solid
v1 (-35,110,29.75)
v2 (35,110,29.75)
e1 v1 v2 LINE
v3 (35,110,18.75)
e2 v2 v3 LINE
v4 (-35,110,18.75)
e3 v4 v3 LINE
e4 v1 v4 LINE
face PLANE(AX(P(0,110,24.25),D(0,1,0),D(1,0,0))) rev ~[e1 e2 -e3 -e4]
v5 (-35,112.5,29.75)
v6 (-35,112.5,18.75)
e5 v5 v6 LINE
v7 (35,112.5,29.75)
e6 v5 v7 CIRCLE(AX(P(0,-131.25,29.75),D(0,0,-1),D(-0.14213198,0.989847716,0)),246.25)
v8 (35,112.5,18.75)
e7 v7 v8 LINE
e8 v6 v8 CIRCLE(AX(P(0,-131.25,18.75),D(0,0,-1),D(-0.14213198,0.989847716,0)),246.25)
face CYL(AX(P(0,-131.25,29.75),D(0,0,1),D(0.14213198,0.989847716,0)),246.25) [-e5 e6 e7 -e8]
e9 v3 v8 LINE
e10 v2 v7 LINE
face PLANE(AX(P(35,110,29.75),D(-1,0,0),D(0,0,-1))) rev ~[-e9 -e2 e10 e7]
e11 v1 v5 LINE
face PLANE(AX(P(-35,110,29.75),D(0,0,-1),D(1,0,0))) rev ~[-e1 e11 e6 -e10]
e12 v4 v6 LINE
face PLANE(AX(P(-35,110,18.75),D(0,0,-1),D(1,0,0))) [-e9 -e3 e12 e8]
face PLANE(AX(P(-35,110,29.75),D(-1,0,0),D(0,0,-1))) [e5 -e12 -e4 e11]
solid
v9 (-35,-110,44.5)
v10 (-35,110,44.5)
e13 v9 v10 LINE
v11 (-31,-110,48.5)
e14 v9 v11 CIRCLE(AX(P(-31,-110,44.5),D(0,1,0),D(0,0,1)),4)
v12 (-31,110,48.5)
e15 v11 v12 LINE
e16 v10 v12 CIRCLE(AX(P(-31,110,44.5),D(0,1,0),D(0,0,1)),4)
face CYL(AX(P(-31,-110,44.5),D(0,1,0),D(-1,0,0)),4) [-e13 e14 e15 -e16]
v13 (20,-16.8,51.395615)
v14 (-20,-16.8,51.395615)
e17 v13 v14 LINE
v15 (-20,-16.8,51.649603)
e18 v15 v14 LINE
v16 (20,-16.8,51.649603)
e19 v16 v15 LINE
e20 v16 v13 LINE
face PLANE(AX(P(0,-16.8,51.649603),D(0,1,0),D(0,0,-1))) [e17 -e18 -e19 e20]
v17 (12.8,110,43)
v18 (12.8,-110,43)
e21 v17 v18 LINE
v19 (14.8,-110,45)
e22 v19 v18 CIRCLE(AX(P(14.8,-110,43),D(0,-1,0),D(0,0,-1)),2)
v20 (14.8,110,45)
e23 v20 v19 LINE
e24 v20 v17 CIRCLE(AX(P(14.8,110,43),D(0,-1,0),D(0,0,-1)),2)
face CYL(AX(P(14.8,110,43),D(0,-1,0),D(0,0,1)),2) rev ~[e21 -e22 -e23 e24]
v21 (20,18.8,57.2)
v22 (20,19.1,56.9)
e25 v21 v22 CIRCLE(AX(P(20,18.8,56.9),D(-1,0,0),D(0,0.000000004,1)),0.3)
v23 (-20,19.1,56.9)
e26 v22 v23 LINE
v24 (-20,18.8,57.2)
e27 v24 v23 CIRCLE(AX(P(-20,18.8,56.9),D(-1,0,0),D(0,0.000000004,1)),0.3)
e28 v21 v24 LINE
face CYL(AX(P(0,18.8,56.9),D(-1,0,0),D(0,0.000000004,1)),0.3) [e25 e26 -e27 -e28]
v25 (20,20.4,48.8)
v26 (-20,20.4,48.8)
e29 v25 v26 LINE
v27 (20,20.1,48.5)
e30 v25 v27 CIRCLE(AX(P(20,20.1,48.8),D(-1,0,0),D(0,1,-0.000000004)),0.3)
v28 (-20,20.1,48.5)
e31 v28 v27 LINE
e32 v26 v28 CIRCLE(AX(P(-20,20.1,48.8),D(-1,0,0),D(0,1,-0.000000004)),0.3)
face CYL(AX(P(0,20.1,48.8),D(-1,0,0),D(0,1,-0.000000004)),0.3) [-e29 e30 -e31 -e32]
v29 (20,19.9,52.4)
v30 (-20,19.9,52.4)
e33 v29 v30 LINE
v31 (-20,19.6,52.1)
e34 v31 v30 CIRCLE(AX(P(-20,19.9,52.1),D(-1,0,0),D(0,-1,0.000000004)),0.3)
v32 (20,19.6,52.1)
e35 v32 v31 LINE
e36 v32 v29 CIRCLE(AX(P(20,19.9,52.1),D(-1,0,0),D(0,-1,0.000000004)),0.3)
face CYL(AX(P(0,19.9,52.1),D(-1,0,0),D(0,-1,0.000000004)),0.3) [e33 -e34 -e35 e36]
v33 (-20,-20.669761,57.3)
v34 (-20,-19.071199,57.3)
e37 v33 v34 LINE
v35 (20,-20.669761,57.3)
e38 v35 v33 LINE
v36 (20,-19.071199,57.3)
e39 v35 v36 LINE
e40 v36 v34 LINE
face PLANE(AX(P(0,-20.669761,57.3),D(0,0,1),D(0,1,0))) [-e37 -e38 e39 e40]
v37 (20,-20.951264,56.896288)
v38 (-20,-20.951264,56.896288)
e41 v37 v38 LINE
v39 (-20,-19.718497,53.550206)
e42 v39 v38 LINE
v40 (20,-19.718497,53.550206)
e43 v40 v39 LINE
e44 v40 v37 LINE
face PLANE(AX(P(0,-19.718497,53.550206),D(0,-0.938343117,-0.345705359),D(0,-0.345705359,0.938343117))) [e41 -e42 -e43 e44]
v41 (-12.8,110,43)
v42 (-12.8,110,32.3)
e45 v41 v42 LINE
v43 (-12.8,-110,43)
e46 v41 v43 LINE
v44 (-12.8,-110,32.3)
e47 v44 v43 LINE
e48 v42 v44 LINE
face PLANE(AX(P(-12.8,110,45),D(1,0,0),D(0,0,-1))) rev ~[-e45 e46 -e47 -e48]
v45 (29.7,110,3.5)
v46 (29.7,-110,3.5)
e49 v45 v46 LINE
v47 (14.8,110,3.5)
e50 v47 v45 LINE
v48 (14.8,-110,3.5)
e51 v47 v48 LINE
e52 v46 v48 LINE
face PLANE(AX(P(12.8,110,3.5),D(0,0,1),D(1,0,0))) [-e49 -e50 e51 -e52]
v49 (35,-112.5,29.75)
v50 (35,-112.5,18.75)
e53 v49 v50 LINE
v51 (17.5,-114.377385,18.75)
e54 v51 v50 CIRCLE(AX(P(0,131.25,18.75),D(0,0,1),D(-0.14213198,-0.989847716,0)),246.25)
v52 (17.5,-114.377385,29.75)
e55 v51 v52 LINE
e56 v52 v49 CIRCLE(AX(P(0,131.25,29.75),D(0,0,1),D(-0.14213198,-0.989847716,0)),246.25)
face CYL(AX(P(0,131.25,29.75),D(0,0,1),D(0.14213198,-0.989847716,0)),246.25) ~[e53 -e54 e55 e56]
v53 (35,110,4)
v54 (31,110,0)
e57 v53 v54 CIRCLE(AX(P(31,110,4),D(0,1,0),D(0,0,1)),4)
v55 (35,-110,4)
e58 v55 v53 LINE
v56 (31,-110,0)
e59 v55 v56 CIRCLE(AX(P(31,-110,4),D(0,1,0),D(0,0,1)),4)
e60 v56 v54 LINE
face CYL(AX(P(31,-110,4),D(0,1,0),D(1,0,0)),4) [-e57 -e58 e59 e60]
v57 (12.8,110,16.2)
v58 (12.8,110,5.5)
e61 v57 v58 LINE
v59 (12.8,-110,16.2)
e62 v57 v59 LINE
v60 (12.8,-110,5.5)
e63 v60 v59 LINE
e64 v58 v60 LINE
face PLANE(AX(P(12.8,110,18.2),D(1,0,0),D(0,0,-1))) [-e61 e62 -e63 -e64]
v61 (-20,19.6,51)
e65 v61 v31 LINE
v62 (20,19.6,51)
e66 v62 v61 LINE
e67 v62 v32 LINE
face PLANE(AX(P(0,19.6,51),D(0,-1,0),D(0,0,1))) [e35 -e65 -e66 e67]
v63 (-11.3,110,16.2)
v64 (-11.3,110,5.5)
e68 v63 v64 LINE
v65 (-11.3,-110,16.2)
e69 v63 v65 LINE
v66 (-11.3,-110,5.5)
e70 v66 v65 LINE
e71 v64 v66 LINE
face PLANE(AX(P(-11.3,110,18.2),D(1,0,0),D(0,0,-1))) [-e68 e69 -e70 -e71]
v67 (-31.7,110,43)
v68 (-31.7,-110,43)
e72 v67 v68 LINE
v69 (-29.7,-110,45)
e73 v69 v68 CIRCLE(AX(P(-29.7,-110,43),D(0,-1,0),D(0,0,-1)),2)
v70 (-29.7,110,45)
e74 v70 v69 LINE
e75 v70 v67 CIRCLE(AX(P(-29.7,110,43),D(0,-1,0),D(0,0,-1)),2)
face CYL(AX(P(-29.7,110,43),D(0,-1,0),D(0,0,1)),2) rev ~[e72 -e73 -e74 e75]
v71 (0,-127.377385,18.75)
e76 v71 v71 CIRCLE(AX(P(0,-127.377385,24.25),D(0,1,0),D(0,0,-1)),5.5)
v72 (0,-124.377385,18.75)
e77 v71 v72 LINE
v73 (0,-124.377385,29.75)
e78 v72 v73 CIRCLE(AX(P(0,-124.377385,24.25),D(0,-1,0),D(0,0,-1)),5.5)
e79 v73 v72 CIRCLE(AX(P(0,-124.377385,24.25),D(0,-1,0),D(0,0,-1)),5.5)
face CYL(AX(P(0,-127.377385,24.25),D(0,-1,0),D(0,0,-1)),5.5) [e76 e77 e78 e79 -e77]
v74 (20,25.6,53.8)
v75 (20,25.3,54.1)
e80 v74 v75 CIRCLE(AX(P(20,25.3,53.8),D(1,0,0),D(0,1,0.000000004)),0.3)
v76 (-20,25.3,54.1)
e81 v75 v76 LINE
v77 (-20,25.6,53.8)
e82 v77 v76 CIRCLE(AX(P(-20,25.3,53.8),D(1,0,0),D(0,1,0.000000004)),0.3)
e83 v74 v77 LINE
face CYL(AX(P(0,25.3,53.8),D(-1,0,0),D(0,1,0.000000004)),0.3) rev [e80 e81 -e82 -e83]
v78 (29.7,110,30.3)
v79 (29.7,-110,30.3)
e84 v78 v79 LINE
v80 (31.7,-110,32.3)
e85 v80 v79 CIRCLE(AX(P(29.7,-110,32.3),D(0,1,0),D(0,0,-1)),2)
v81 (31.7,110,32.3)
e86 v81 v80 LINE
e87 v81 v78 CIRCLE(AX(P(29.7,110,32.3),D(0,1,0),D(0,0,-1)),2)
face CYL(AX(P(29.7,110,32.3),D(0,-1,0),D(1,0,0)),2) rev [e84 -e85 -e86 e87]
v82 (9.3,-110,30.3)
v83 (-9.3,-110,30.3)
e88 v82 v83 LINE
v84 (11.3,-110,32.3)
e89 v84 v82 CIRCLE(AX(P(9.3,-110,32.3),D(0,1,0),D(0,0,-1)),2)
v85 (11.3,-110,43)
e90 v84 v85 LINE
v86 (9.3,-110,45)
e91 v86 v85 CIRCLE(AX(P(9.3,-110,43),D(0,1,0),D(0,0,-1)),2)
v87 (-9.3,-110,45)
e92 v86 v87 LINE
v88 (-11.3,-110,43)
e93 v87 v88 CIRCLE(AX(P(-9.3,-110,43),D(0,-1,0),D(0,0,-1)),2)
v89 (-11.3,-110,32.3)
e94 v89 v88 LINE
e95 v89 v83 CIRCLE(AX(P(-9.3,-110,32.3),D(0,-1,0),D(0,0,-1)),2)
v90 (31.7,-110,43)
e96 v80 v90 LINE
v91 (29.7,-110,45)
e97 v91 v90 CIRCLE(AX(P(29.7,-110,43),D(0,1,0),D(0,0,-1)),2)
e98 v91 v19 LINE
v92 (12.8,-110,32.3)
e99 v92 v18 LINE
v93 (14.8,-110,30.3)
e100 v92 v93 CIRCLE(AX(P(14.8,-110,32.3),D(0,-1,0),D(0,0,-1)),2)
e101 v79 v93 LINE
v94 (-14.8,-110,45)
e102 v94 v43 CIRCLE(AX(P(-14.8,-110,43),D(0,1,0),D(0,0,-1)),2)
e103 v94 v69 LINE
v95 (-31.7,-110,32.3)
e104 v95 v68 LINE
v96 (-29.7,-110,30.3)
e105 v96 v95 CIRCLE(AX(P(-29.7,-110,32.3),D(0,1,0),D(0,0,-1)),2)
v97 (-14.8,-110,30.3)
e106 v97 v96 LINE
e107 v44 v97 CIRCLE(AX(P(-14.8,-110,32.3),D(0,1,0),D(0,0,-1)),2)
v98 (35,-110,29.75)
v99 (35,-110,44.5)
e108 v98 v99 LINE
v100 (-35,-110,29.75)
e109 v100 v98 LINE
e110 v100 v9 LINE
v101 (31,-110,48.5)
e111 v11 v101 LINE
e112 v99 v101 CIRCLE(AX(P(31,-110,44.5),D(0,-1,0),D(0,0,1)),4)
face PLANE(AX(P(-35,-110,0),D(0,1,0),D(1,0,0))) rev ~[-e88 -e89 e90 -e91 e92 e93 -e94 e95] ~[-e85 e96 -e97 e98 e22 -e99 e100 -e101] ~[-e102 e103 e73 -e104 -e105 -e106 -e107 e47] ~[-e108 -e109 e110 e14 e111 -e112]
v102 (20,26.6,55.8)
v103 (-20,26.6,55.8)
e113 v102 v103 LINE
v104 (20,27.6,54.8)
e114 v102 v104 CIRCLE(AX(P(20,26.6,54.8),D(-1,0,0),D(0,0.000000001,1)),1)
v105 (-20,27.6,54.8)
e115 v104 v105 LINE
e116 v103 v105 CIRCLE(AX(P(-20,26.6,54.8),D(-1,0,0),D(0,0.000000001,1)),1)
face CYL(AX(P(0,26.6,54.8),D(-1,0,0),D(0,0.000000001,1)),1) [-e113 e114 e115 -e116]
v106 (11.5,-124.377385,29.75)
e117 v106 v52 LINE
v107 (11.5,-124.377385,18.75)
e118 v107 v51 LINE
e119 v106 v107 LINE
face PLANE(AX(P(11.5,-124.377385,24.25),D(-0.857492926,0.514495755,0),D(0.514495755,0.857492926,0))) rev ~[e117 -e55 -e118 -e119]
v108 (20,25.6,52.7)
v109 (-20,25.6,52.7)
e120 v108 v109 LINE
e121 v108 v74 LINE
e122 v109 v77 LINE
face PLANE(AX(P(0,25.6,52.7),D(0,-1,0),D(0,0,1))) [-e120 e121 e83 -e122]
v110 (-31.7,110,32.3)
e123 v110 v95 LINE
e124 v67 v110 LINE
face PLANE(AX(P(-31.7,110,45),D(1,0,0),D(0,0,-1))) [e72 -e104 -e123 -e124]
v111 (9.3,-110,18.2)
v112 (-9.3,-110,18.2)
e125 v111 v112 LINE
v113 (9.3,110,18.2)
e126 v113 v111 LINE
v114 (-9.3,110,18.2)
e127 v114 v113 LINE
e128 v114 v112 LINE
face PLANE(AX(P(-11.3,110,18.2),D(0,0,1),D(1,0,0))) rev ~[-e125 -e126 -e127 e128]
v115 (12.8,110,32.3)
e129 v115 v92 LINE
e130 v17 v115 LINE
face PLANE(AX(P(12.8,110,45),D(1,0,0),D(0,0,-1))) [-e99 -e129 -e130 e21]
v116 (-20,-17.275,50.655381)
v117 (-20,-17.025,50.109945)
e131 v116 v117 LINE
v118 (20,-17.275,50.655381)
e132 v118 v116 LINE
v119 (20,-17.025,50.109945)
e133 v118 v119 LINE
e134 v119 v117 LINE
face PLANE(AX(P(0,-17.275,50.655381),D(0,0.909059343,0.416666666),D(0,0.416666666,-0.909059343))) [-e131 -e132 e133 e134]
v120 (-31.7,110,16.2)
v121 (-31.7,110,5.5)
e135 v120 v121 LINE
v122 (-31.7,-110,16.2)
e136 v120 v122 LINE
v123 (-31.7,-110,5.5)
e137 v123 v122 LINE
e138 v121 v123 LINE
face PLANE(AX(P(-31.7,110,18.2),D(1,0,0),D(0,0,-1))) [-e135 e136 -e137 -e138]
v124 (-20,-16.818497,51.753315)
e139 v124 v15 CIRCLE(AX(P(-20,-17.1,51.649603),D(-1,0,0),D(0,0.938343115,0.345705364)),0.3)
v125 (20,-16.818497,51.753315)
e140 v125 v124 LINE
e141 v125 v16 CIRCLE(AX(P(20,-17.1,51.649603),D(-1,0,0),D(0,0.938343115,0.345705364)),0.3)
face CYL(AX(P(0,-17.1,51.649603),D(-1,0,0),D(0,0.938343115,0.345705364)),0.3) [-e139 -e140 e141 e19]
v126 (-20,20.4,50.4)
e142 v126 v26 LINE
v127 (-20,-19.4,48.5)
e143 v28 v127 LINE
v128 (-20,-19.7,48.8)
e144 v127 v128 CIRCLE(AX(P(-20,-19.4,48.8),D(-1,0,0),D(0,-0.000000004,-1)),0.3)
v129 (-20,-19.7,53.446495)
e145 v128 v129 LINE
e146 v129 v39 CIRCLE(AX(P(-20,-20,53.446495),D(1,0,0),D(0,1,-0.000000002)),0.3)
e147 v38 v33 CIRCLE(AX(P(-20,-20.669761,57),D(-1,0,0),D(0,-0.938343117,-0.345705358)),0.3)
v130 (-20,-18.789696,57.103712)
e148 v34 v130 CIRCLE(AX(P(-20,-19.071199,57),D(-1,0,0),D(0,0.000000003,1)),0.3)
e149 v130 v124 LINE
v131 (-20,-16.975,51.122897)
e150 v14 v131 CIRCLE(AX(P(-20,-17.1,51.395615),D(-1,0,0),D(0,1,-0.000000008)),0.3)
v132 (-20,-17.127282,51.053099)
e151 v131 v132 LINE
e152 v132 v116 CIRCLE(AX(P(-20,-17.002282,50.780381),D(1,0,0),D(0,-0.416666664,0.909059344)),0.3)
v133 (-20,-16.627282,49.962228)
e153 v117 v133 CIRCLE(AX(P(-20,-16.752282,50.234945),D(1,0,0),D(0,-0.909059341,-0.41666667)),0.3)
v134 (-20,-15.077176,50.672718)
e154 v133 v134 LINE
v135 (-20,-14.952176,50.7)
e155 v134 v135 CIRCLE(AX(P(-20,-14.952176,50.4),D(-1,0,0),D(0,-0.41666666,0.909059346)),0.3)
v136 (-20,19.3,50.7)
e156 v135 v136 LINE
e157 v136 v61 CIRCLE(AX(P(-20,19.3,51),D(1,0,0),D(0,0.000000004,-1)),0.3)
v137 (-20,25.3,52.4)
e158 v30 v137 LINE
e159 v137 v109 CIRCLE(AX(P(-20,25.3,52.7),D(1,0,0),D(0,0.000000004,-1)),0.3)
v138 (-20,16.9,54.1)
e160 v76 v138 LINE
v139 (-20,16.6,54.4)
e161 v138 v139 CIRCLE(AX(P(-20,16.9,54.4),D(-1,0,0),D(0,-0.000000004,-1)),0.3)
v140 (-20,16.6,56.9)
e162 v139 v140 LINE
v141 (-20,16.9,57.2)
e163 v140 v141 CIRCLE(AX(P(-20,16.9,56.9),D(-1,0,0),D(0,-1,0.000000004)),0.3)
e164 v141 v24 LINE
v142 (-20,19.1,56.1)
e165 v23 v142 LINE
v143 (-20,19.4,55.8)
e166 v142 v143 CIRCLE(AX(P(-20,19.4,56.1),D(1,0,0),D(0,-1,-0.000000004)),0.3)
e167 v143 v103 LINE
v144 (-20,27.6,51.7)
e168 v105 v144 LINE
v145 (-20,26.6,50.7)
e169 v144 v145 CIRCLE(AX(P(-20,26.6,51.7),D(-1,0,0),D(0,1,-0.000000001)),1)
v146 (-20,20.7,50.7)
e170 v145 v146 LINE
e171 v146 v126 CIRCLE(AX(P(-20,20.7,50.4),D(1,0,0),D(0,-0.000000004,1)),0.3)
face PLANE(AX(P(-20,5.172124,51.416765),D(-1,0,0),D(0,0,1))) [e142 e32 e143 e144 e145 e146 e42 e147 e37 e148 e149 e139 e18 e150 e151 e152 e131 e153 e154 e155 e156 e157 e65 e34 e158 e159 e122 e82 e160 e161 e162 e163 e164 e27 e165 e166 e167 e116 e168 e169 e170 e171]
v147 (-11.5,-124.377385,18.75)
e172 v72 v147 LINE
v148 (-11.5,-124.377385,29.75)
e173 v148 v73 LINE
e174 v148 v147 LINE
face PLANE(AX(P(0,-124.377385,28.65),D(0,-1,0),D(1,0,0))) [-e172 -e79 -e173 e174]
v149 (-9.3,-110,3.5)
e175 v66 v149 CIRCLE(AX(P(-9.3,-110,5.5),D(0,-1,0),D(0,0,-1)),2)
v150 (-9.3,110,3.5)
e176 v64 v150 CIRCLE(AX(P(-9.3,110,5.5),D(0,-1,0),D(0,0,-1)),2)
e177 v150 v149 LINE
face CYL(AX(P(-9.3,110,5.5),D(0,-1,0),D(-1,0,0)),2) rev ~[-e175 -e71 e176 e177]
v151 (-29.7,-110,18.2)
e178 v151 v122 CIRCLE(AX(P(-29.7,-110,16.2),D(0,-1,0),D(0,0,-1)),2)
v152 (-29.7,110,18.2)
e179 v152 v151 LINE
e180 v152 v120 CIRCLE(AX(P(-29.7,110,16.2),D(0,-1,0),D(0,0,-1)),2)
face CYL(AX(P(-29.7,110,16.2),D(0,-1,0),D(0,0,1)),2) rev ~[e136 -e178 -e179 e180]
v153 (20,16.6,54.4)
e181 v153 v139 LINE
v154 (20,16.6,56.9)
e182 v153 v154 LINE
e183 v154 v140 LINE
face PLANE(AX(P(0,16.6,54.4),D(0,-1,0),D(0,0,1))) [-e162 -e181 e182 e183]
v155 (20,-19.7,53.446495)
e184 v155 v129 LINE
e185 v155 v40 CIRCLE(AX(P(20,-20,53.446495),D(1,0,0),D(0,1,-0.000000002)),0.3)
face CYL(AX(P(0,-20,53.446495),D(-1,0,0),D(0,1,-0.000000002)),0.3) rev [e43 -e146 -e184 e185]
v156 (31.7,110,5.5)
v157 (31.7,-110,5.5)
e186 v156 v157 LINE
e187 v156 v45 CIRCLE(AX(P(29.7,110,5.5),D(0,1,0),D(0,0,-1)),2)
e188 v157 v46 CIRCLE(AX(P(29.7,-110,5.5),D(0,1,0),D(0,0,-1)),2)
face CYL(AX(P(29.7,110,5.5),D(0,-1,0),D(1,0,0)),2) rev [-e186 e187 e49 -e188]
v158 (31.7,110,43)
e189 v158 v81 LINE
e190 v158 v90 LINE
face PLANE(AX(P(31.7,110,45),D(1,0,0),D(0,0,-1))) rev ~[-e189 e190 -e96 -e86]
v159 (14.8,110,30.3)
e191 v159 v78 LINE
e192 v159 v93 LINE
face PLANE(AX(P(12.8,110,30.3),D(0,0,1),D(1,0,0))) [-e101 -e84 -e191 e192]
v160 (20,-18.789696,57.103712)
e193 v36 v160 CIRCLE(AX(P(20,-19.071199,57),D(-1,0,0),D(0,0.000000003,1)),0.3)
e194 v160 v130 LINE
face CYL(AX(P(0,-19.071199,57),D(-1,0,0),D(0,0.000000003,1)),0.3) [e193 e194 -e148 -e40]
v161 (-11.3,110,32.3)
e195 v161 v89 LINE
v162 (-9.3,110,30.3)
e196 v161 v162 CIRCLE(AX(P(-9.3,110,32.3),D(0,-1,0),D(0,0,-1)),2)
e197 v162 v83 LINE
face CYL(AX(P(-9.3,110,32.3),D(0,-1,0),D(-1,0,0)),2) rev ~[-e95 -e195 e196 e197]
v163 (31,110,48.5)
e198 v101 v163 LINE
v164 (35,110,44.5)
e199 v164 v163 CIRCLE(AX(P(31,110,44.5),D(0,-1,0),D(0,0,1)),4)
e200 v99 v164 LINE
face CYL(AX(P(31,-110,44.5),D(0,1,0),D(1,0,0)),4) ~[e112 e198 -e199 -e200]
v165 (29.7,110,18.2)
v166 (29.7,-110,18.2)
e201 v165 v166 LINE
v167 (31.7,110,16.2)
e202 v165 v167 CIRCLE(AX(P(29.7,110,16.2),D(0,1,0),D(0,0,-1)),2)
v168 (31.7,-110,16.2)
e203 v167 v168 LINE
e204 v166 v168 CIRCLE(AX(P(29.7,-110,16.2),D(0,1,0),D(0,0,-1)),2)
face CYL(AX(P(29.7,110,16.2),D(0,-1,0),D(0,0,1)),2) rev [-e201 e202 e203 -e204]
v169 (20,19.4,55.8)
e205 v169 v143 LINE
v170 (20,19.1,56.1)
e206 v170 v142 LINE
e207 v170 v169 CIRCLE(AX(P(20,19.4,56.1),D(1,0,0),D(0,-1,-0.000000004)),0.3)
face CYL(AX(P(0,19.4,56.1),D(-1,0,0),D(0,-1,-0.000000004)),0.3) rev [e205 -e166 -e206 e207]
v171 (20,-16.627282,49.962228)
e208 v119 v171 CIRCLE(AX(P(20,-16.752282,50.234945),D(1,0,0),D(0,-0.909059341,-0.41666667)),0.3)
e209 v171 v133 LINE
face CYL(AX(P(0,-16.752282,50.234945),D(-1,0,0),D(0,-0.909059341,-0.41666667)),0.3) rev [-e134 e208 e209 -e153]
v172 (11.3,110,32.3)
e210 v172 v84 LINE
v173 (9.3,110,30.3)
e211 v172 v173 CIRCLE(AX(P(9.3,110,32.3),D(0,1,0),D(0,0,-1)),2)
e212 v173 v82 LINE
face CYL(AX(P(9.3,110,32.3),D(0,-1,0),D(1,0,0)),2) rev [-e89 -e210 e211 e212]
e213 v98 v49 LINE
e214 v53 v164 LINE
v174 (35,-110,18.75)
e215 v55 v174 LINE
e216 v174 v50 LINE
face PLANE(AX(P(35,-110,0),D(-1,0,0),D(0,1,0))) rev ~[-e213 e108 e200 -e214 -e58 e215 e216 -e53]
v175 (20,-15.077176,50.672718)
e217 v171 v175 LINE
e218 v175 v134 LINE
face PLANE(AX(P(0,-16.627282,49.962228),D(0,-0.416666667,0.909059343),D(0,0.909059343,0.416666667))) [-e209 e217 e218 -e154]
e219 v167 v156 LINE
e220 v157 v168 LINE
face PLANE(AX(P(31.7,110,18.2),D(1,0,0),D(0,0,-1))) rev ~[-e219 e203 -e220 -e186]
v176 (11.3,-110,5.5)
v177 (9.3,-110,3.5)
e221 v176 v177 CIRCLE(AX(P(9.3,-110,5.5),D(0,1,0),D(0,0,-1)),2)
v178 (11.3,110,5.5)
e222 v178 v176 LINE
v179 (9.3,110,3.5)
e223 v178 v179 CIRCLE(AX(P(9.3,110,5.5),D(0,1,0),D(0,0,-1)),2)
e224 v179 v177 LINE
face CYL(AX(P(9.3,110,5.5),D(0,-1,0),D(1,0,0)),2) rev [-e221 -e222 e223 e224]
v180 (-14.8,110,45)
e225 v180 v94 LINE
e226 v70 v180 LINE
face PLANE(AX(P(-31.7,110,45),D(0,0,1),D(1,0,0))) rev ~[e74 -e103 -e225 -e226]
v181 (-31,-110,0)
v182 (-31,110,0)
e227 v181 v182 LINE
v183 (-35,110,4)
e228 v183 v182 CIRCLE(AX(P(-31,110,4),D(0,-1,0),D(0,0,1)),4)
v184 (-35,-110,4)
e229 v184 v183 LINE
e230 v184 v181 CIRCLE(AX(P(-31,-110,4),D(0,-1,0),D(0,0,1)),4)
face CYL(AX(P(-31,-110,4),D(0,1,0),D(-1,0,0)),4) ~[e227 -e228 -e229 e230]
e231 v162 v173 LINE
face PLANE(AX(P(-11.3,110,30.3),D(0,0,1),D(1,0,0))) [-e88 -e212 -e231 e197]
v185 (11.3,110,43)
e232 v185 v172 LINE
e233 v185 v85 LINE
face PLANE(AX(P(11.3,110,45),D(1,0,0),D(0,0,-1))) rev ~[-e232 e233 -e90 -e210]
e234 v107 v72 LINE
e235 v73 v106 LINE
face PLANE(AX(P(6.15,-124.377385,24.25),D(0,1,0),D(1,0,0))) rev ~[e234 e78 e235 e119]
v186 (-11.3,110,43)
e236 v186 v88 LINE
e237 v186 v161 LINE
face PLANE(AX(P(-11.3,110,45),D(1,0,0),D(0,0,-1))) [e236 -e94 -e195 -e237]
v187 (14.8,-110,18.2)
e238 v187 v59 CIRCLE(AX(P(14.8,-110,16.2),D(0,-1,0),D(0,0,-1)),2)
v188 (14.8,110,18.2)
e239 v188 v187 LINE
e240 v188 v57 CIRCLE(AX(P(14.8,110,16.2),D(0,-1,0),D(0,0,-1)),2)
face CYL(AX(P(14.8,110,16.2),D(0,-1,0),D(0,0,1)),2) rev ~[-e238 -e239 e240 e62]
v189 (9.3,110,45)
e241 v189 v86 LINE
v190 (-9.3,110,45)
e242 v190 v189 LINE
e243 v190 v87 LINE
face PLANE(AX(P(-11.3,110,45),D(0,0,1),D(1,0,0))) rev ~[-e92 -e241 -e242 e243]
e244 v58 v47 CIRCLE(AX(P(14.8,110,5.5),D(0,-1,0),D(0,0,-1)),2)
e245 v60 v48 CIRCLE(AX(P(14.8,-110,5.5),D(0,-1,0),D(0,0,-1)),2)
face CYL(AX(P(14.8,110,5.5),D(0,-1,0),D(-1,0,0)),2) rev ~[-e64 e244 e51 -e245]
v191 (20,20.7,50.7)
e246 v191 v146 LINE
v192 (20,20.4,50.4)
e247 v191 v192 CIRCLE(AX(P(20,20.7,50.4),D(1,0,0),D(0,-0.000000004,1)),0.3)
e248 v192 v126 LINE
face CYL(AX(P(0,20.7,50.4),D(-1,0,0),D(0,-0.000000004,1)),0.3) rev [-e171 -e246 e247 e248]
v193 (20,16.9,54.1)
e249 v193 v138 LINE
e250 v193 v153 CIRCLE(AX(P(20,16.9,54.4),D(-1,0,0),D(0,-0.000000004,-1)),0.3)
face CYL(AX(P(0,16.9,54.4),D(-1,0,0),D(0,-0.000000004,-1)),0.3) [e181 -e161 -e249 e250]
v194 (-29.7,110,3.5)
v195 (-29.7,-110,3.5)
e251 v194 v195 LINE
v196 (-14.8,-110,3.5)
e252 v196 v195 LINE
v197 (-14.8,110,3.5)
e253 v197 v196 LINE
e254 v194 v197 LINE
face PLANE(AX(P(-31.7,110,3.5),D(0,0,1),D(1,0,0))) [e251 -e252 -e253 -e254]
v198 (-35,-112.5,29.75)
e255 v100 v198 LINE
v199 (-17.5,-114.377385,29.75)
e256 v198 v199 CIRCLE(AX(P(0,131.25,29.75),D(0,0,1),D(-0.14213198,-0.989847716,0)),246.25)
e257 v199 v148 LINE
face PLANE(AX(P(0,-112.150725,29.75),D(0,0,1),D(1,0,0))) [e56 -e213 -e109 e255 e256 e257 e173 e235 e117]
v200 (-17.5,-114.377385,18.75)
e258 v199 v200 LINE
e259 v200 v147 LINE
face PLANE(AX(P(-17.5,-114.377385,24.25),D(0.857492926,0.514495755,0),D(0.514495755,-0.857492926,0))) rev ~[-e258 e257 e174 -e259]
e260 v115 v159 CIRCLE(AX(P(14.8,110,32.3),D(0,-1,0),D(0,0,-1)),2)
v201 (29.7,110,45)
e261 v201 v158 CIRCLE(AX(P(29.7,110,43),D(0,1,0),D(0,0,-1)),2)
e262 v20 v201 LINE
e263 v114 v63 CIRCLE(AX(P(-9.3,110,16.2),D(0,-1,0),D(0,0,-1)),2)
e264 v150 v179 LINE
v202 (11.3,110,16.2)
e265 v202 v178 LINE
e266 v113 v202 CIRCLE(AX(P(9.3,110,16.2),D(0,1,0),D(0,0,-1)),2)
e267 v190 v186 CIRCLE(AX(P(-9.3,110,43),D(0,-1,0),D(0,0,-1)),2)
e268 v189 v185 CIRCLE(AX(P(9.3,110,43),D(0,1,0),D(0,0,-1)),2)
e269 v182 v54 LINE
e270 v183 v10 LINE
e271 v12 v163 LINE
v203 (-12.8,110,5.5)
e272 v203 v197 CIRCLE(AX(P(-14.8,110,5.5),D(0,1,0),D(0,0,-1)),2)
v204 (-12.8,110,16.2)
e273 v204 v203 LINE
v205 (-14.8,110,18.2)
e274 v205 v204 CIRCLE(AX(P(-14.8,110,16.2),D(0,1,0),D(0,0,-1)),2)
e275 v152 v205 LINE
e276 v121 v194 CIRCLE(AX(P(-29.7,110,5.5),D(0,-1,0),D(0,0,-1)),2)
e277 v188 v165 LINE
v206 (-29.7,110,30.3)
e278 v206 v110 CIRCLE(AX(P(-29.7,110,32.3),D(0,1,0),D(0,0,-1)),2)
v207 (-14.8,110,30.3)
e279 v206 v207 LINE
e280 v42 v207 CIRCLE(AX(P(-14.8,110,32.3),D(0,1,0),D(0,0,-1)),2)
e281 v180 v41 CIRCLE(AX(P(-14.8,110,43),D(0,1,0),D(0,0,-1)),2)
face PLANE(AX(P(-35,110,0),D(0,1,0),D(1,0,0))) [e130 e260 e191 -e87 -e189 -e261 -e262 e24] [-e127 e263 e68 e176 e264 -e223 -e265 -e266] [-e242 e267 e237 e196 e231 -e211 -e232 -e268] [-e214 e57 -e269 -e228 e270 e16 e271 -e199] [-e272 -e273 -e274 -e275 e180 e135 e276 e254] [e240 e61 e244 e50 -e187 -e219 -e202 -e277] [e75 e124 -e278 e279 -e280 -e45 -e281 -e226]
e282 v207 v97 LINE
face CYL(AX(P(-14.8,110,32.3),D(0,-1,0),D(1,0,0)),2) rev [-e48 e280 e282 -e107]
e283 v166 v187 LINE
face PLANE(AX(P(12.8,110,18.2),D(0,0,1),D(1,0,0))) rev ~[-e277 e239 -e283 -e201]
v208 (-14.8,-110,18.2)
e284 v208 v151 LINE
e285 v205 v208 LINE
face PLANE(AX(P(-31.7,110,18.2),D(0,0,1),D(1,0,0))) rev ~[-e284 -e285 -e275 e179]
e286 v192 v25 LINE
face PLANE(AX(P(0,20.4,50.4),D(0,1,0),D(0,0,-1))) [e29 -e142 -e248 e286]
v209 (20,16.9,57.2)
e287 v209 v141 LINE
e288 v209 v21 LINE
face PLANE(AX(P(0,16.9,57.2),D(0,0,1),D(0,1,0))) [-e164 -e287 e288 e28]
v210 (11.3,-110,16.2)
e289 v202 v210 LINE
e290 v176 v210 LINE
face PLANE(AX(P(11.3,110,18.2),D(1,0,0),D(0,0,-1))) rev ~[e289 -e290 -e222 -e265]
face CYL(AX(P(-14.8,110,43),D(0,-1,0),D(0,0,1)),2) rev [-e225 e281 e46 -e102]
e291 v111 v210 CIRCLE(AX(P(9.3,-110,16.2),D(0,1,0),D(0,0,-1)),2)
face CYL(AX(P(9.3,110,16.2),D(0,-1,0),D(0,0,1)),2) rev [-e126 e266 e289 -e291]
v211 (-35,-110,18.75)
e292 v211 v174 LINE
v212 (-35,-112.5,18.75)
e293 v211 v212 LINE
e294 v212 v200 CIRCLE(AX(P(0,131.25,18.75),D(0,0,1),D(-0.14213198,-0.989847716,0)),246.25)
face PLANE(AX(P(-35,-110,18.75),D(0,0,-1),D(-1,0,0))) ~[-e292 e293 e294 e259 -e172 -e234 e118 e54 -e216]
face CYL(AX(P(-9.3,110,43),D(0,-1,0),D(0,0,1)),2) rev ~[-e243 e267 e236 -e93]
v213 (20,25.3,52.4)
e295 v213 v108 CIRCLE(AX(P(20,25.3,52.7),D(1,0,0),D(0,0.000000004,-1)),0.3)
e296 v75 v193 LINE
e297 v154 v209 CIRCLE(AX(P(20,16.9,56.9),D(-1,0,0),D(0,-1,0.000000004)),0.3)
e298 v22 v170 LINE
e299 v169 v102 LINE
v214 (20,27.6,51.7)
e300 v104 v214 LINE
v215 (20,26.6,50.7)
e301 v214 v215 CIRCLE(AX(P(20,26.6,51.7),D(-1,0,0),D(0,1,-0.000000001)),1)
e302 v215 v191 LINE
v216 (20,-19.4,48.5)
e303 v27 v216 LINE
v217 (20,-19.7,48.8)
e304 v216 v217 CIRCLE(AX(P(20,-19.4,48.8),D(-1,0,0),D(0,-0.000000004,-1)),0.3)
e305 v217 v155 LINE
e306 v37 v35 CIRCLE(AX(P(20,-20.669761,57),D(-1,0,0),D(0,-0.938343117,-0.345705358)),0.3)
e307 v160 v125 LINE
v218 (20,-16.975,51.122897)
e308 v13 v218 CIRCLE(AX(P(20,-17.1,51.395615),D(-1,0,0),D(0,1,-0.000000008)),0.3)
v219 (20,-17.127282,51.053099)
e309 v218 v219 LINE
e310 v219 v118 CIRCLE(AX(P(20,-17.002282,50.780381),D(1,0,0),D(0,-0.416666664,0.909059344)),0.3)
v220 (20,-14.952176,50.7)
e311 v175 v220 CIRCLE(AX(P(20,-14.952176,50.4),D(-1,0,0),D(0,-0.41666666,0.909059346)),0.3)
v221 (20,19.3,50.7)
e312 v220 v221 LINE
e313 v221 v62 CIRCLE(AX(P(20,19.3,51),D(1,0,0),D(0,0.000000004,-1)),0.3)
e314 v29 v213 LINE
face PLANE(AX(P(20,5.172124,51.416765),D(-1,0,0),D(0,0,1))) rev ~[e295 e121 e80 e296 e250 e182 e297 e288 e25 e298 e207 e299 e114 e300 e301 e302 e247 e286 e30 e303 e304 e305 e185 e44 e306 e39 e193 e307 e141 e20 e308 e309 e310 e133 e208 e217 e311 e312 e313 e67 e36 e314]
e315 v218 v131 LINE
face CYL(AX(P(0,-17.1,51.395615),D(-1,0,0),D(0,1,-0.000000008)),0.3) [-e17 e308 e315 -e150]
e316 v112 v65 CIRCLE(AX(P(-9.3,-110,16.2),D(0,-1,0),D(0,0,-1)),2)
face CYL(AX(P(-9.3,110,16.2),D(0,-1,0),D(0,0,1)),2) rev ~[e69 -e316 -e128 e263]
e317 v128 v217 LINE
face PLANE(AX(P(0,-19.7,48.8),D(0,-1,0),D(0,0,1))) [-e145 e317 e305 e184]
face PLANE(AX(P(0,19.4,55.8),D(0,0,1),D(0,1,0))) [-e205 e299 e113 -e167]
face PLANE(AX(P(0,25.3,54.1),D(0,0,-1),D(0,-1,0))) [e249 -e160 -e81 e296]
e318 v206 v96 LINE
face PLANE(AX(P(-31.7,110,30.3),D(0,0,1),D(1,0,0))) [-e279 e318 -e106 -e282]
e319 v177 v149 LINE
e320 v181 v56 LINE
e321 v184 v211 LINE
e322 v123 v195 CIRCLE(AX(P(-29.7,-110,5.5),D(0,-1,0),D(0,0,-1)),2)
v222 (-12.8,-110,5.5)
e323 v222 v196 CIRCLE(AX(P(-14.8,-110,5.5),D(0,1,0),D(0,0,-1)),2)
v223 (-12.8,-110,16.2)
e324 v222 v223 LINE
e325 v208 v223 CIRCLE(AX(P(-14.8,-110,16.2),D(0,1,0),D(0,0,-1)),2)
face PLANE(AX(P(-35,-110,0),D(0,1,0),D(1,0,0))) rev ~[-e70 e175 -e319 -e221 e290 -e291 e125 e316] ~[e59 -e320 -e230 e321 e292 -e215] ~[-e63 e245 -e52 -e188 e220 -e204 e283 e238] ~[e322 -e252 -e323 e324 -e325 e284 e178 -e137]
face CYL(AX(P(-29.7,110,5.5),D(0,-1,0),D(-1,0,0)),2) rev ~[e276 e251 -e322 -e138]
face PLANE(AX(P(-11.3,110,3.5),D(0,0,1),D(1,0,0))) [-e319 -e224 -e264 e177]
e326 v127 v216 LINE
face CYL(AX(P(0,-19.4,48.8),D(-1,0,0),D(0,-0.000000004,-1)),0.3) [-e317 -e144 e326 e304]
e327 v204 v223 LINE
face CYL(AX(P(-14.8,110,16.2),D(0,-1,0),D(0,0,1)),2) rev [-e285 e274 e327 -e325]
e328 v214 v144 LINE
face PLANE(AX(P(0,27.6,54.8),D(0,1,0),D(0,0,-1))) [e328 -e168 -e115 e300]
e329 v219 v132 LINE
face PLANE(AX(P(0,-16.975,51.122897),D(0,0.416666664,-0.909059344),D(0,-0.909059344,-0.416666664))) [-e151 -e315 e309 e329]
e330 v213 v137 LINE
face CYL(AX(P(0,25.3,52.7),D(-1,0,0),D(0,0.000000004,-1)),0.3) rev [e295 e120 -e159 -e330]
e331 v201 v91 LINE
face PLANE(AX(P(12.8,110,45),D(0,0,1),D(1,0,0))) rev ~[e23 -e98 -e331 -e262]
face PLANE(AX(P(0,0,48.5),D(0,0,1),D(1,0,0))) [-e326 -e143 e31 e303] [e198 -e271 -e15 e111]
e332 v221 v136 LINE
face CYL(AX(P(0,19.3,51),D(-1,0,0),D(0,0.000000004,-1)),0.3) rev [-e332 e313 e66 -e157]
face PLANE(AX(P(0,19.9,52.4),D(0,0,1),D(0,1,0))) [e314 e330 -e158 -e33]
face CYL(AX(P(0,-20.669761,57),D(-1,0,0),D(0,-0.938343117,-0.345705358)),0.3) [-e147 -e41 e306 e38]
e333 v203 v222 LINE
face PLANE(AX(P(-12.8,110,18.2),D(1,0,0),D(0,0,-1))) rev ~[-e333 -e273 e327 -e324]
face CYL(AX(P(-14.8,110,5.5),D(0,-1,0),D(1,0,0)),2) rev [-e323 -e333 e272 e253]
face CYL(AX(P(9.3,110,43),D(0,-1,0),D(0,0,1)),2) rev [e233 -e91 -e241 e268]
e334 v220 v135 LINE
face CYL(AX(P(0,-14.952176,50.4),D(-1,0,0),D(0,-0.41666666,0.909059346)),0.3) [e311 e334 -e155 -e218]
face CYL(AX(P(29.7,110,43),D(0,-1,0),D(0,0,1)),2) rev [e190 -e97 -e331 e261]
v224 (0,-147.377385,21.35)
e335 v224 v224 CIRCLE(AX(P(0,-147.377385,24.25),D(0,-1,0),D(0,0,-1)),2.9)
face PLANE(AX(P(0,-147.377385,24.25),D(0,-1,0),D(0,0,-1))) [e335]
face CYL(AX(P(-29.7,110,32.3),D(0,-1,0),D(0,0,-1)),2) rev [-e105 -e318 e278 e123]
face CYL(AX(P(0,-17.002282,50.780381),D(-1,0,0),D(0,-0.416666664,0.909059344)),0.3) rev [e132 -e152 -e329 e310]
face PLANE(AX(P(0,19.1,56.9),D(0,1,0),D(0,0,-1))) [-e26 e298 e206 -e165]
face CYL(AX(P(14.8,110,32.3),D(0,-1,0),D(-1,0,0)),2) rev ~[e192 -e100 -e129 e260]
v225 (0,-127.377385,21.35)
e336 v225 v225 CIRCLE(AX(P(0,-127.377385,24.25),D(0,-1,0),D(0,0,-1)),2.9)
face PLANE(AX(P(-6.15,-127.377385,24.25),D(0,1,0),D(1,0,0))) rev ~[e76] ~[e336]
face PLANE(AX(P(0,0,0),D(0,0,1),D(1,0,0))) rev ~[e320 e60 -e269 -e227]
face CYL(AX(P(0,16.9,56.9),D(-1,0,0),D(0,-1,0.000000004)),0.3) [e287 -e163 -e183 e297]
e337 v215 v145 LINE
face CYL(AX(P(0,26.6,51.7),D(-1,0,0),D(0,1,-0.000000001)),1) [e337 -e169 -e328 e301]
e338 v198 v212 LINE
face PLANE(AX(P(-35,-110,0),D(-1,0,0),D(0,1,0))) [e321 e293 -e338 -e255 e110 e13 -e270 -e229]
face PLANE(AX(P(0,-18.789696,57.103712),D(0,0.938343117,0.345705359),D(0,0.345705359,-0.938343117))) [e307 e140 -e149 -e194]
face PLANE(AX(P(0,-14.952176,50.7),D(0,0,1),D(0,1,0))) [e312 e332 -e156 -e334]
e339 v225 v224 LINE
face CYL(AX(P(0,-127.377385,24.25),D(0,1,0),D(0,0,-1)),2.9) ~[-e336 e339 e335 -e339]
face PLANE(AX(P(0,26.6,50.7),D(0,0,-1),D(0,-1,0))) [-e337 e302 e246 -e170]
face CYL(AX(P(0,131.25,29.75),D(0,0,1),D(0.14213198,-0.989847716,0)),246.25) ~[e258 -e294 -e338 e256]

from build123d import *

# Parameters (mm, degrees)
SKETCH_1_W                  = 70
SKETCH_1_H                  = 220
EXTRUDE_1_DEPTH             = 48.5
CUT_EXTRUDE_1_REACH         = 222
SKETCH_2_W                  = 22.6
SKETCH_2_H                  = 14.7
SKETCH_2_W_2                = 18.9
SKETCH_3_W                  = 70
SKETCH_3_H                  = 11
EXTRUDE_2_DEPTH             = 5
CUT_EXTRUDE_4_DEPTH         = 11
EXTRUDE_3_REACH             = 26.25
EXTRUDE_3_DIRECTION_2_REACH = 26.25
EXTRUDE_6_DEPTH             = 20
FILLET_1_R                  = 4
FILLET_2_R                  = 2
SKETCH_13_OUTSIDE_W         = 123.742
SKETCH_13_OUTSIDE_H         = 111.042
SKETCH_13_OUTSIDE_R         = 5.5
CUT_EXTRUDE_8_DEPTH         = 3
SKETCH_14_R                 = 2.9
EXTRUDE_7_DEPTH             = 20


with BuildPart() as part:
    # Эскиз1 → Бобышка-Вытянуть1 (new body)
    with BuildSketch(Plane.XY):
        Rectangle(SKETCH_1_W, SKETCH_1_H)
    extrude(amount=EXTRUDE_1_DEPTH)

    # Эскиз2 → Вырез-Вытянуть1 (cut, up to next)
    with BuildSketch(Plane(origin=(0, 110, 0), x_dir=(1, 0, 0), z_dir=(0, 1, 0)), mode=Mode.PRIVATE) as cut_extrude_1_sk1:
        with Locations((0, -10.85)):
            Rectangle(SKETCH_2_W, SKETCH_2_H)
    cut_extrude_1_tool1 = extrude(cut_extrude_1_sk1.sketch, amount=-CUT_EXTRUDE_1_REACH, mode=Mode.PRIVATE) & part.part
    add(cut_extrude_1_tool1.solids().sort_by_distance((0, 110, 10.85))[0], mode=Mode.SUBTRACT)
    # Эскиз2 → Вырез-Вытянуть1 (cut, up to next)
    with BuildSketch(Plane(origin=(0, 110, 0), x_dir=(1, 0, 0), z_dir=(0, 1, 0)), mode=Mode.PRIVATE) as cut_extrude_1_sk2:
        with Locations((22.25, -10.85)):
            Rectangle(SKETCH_2_W_2, SKETCH_2_H)
    cut_extrude_1_tool2 = extrude(cut_extrude_1_sk2.sketch, amount=-CUT_EXTRUDE_1_REACH, mode=Mode.PRIVATE) & part.part
    add(cut_extrude_1_tool2.solids().sort_by_distance((22.25, 110, 10.85))[0], mode=Mode.SUBTRACT)
    # Эскиз2 → Вырез-Вытянуть1 (cut, up to next)
    with BuildSketch(Plane(origin=(0, 110, 0), x_dir=(1, 0, 0), z_dir=(0, 1, 0)), mode=Mode.PRIVATE) as cut_extrude_1_sk3:
        with Locations((-22.25, -10.85)):
            Rectangle(SKETCH_2_W_2, SKETCH_2_H)
    cut_extrude_1_tool3 = extrude(cut_extrude_1_sk3.sketch, amount=-CUT_EXTRUDE_1_REACH, mode=Mode.PRIVATE) & part.part
    add(cut_extrude_1_tool3.solids().sort_by_distance((-22.25, 110, 10.85))[0], mode=Mode.SUBTRACT)
    # Эскиз2 → Вырез-Вытянуть1 (cut, up to next)
    with BuildSketch(Plane(origin=(0, 110, 0), x_dir=(1, 0, 0), z_dir=(0, 1, 0)), mode=Mode.PRIVATE) as cut_extrude_1_sk4:
        with Locations((22.25, -37.65)):
            Rectangle(SKETCH_2_W_2, SKETCH_2_H)
    cut_extrude_1_tool4 = extrude(cut_extrude_1_sk4.sketch, amount=-CUT_EXTRUDE_1_REACH, mode=Mode.PRIVATE) & part.part
    add(cut_extrude_1_tool4.solids().sort_by_distance((22.25, 110, 37.65))[0], mode=Mode.SUBTRACT)
    # Эскиз2 → Вырез-Вытянуть1 (cut, up to next)
    with BuildSketch(Plane(origin=(0, 110, 0), x_dir=(1, 0, 0), z_dir=(0, 1, 0)), mode=Mode.PRIVATE) as cut_extrude_1_sk5:
        with Locations((0, -37.65)):
            Rectangle(SKETCH_2_W, SKETCH_2_H)
    cut_extrude_1_tool5 = extrude(cut_extrude_1_sk5.sketch, amount=-CUT_EXTRUDE_1_REACH, mode=Mode.PRIVATE) & part.part
    add(cut_extrude_1_tool5.solids().sort_by_distance((0, 110, 37.65))[0], mode=Mode.SUBTRACT)
    # Эскиз2 → Вырез-Вытянуть1 (cut, up to next)
    with BuildSketch(Plane(origin=(0, 110, 0), x_dir=(1, 0, 0), z_dir=(0, 1, 0)), mode=Mode.PRIVATE) as cut_extrude_1_sk6:
        with Locations((-22.25, -37.65)):
            Rectangle(SKETCH_2_W_2, SKETCH_2_H)
    cut_extrude_1_tool6 = extrude(cut_extrude_1_sk6.sketch, amount=-CUT_EXTRUDE_1_REACH, mode=Mode.PRIVATE) & part.part
    add(cut_extrude_1_tool6.solids().sort_by_distance((-22.25, 110, 37.65))[0], mode=Mode.SUBTRACT)


with BuildPart() as body_2:
    # Эскиз3 → Бобышка-Вытянуть2 (new body)
    with BuildSketch(Plane(origin=(0, 110, 0), x_dir=(1, 0, 0), z_dir=(0, 1, 0))):
        with Locations((0, -24.25)):
            Rectangle(SKETCH_3_W, SKETCH_3_H)
    extrude_2 = extrude(amount=EXTRUDE_2_DEPTH)

    # Эскиз4 → Вырез-Вытянуть4 (cut)
    with BuildSketch(Plane.XY.offset(29.75)):
        with BuildLine():
            Line((-35, 112.5), (-35, 118.5))
            Line((-35, 118.5), (35, 118.5))
            Line((35, 118.5), (35, 112.5))
            ThreePointArc((35, 112.5), (0, 115), (-35, 112.5))
        make_face()
    cut_extrude_4 = extrude(amount=-CUT_EXTRUDE_4_DEPTH, mode=Mode.SUBTRACT)


with BuildPart() as part_1:
    add(part.part)

    # Зеркальное отражение2: Бобышка-Вытянуть2, Вырез-Вытянуть4 across plane
    add(extrude_2.mirror(Plane.ZX))
    add(cut_extrude_4.mirror(Plane.ZX), mode=Mode.SUBTRACT)

    # Бобышка-Вытянуть3: up to this face of the body (flat: up to its plane)
    extrude_3_end = Plane(part_1.part.faces().sort_by_distance((0, -112.150725053, 18.75))[0])
    # Эскиз5 → Бобышка-Вытянуть3 (add, up to the picked face)
    with BuildSketch(Plane(origin=(0, 0, 24.25), x_dir=(-1, 0, 0), z_dir=(0, 0, -1)), mode=Mode.PRIVATE) as extrude_3_sk1:
        with BuildLine():
            Line((-11.5, -124.377385485), (-17.5, -114.377385485))
            ThreePointArc((-17.5, -114.377385485), (0, -115), (17.5, -114.377385485))
            Line((17.5, -114.377385485), (11.5, -124.377385485))
            Line((11.5, -124.377385485), (6.15, -124.377385485))
            Line((6.15, -124.377385485), (6.15, -127.377385485))
            Line((6.15, -127.377385485), (-6.15, -127.377385485))
            Line((-6.15, -127.377385485), (-6.15, -124.377385485))
            Line((-6.15, -124.377385485), (-11.5, -124.377385485))
        make_face()
    extrude_3_tool1 = split(extrude(extrude_3_sk1.sketch, amount=EXTRUDE_3_REACH, mode=Mode.PRIVATE), bisect_by=extrude_3_end, keep=Keep.BOTH, mode=Mode.PRIVATE)
    add(extrude_3_tool1.solids().sort_by(Axis((0, -120.046106, 24.25), (0, 0, -1)))[0])

    # Бобышка-Вытянуть3 direction 2: up to this face of the body (flat: up to its plane)
    extrude_3_direction_2_end = Plane(part_1.part.faces().sort_by_distance((0, -112.150725053, 29.75))[0])
    # Эскиз5 → Бобышка-Вытянуть3 direction 2 (add, up to the picked face)
    with BuildSketch(Plane(origin=(0, 0, 24.25), x_dir=(-1, 0, 0), z_dir=(0, 0, -1)), mode=Mode.PRIVATE) as extrude_3_direction_2_sk1:
        with BuildLine():
            Line((-11.5, -124.377385485), (-17.5, -114.377385485))
            ThreePointArc((-17.5, -114.377385485), (0, -115), (17.5, -114.377385485))
            Line((17.5, -114.377385485), (11.5, -124.377385485))
            Line((11.5, -124.377385485), (6.15, -124.377385485))
            Line((6.15, -124.377385485), (6.15, -127.377385485))
            Line((6.15, -127.377385485), (-6.15, -127.377385485))
            Line((-6.15, -127.377385485), (-6.15, -124.377385485))
            Line((-6.15, -124.377385485), (-11.5, -124.377385485))
        make_face()
    extrude_3_direction_2_tool1 = split(extrude(extrude_3_direction_2_sk1.sketch, amount=-EXTRUDE_3_DIRECTION_2_REACH, mode=Mode.PRIVATE), bisect_by=extrude_3_direction_2_end, keep=Keep.BOTH, mode=Mode.PRIVATE)
    add(extrude_3_direction_2_tool1.solids().sort_by(Axis((0, -120.046106, 24.25), (0, 0, 1)))[0])

    # Эскиз11 → Бобышка-Вытянуть6 (add, symmetric)
    with BuildSketch(Plane.ZY):
        with BuildLine():
            Line((48.8, -19.7), (53.446494712, -19.7))
            ThreePointArc((53.446494712, -19.7), (53.499168801, -19.704660466), (53.550206319, -19.718497065))
            Line((53.550206319, -19.718497065), (56.896288392, -20.951264145))
            ThreePointArc((56.896288392, -20.951264145), (57.171590381, -20.915844003), (57.3, -20.66976121))
            Line((57.3, -20.66976121), (57.3, -19.071198836))
            ThreePointArc((57.3, -19.071198836), (57.246082793, -18.899608455), (57.103711608, -18.789695901))
            Line((57.103711608, -18.789695901), (51.753314767, -16.818497065))
            ThreePointArc((51.753314767, -16.818497065), (51.702277249, -16.804660466), (51.649603159, -16.8))
            Line((51.649603159, -16.8), (51.395615132, -16.8))
            ThreePointArc((51.395615132, -16.8), (51.233596615, -16.847512377), (51.122897329, -16.975))
            Line((51.122897329, -16.975), (51.053098899, -17.127282197))
            ThreePointArc((51.053098899, -17.127282197), (50.884833356, -17.283511153), (50.655381096, -17.275))
            Line((50.655381096, -17.275), (50.10994549, -17.025))
            ThreePointArc((50.10994549, -17.025), (49.953716535, -16.856734457), (49.962227687, -16.627282197))
            Line((49.962227687, -16.627282197), (50.672717803, -15.077175771))
            ThreePointArc((50.672717803, -15.077175771), (50.693100103, -15.016147089), (50.7, -14.952175771))
            Line((50.7, -14.952175771), (50.7, 19.3))
            ThreePointArc((50.7, 19.3), (50.787867966, 19.512132034), (51, 19.6))
            Line((51, 19.6), (52.1, 19.6))
            ThreePointArc((52.1, 19.6), (52.312132034, 19.687867966), (52.4, 19.9))
            Line((52.4, 19.9), (52.4, 25.3))
            ThreePointArc((52.4, 25.3), (52.487867966, 25.512132034), (52.7, 25.6))
            Line((52.7, 25.6), (53.8, 25.6))
            ThreePointArc((53.8, 25.6), (54.012132034, 25.512132034), (54.1, 25.3))
            Line((54.1, 25.3), (54.1, 16.9))
            ThreePointArc((54.1, 16.9), (54.187867966, 16.687867966), (54.4, 16.6))
            Line((54.4, 16.6), (56.9, 16.6))
            ThreePointArc((56.9, 16.6), (57.112132034, 16.687867966), (57.2, 16.9))
            Line((57.2, 16.9), (57.2, 18.8))
            ThreePointArc((57.2, 18.8), (57.112132034, 19.012132034), (56.9, 19.1))
            Line((56.9, 19.1), (56.1, 19.1))
            ThreePointArc((56.1, 19.1), (55.887867966, 19.187867966), (55.8, 19.4))
            Line((55.8, 19.4), (55.8, 26.6))
            ThreePointArc((55.8, 26.6), (55.507106781, 27.307106781), (54.8, 27.6))
            Line((54.8, 27.6), (51.7, 27.6))
            ThreePointArc((51.7, 27.6), (50.992893219, 27.307106781), (50.7, 26.6))
            Line((50.7, 26.6), (50.7, 20.7))
            ThreePointArc((50.7, 20.7), (50.612132034, 20.487867966), (50.4, 20.4))
            Line((50.4, 20.4), (48.8, 20.4))
            ThreePointArc((48.8, 20.4), (48.587867966, 20.312132034), (48.5, 20.1))
            Line((48.5, 20.1), (48.5, -19.4))
            ThreePointArc((48.5, -19.4), (48.587867966, -19.612132034), (48.8, -19.7))
        make_face()
    extrude(amount=EXTRUDE_6_DEPTH, both=True)

    # Скругление1
    fillet_1_edges = [part_1.edges().sort_by_distance(p)[0] for p in [
        (-35, 0, 48.5),
        (35, 0, 48.5),
        (-35, 0, 0),
        (35, 0, 0),
    ]]
    fillet(fillet_1_edges, radius=FILLET_1_R)

    # Скругление2
    fillet_2_edges = [part_1.edges().sort_by_distance(p)[0] for p in [
        (31.7, 0, 3.5),
        (31.7, 0, 18.2),
        (12.8, 0, 18.2),
        (12.8, 0, 3.5),
        (-12.8, 0, 3.5),
        (-12.8, 0, 18.2),
        (-31.7, 0, 18.2),
        (-31.7, 0, 3.5),
        (12.8, 0, 45),
        (12.8, 0, 30.3),
        (31.7, 0, 30.3),
        (31.7, 0, 45),
        (-11.3, 0, 45),
        (-11.3, 0, 30.3),
        (11.3, 0, 30.3),
        (11.3, 0, 45),
        (-31.7, 0, 45),
        (-31.7, 0, 30.3),
        (-12.8, 0, 30.3),
        (-12.8, 0, 45),
        (11.3, 0, 3.5),
        (11.3, 0, 18.2),
        (-11.3, 0, 18.2),
        (-11.3, 0, 3.5),
    ]]
    fillet(fillet_2_edges, radius=FILLET_2_R)

    # Эскиз13 outside → Вырез-Вытянуть8 (cut)
    with BuildSketch(Plane.XZ.offset(127.377385485)):
        with Locations((0, 28.65)):
            Rectangle(SKETCH_13_OUTSIDE_W, SKETCH_13_OUTSIDE_H)
        with Locations(Location((0, 24.25, 0), (0, 0, 270))):  # turned: the seam where the file's is
            Circle(SKETCH_13_OUTSIDE_R, mode=Mode.SUBTRACT)
    extrude(amount=-CUT_EXTRUDE_8_DEPTH, mode=Mode.SUBTRACT)

    # Эскиз14 → Бобышка-Вытянуть7 (add)
    with BuildSketch(Plane.XZ.offset(127.377385485)):
        with Locations(Location((0, 24.25, 0), (0, 0, 270))):  # turned: the seam where the file's is
            Circle(SKETCH_14_R)
    extrude(amount=EXTRUDE_7_DEPTH)


solid = Compound([body_2.part, part_1.part])
